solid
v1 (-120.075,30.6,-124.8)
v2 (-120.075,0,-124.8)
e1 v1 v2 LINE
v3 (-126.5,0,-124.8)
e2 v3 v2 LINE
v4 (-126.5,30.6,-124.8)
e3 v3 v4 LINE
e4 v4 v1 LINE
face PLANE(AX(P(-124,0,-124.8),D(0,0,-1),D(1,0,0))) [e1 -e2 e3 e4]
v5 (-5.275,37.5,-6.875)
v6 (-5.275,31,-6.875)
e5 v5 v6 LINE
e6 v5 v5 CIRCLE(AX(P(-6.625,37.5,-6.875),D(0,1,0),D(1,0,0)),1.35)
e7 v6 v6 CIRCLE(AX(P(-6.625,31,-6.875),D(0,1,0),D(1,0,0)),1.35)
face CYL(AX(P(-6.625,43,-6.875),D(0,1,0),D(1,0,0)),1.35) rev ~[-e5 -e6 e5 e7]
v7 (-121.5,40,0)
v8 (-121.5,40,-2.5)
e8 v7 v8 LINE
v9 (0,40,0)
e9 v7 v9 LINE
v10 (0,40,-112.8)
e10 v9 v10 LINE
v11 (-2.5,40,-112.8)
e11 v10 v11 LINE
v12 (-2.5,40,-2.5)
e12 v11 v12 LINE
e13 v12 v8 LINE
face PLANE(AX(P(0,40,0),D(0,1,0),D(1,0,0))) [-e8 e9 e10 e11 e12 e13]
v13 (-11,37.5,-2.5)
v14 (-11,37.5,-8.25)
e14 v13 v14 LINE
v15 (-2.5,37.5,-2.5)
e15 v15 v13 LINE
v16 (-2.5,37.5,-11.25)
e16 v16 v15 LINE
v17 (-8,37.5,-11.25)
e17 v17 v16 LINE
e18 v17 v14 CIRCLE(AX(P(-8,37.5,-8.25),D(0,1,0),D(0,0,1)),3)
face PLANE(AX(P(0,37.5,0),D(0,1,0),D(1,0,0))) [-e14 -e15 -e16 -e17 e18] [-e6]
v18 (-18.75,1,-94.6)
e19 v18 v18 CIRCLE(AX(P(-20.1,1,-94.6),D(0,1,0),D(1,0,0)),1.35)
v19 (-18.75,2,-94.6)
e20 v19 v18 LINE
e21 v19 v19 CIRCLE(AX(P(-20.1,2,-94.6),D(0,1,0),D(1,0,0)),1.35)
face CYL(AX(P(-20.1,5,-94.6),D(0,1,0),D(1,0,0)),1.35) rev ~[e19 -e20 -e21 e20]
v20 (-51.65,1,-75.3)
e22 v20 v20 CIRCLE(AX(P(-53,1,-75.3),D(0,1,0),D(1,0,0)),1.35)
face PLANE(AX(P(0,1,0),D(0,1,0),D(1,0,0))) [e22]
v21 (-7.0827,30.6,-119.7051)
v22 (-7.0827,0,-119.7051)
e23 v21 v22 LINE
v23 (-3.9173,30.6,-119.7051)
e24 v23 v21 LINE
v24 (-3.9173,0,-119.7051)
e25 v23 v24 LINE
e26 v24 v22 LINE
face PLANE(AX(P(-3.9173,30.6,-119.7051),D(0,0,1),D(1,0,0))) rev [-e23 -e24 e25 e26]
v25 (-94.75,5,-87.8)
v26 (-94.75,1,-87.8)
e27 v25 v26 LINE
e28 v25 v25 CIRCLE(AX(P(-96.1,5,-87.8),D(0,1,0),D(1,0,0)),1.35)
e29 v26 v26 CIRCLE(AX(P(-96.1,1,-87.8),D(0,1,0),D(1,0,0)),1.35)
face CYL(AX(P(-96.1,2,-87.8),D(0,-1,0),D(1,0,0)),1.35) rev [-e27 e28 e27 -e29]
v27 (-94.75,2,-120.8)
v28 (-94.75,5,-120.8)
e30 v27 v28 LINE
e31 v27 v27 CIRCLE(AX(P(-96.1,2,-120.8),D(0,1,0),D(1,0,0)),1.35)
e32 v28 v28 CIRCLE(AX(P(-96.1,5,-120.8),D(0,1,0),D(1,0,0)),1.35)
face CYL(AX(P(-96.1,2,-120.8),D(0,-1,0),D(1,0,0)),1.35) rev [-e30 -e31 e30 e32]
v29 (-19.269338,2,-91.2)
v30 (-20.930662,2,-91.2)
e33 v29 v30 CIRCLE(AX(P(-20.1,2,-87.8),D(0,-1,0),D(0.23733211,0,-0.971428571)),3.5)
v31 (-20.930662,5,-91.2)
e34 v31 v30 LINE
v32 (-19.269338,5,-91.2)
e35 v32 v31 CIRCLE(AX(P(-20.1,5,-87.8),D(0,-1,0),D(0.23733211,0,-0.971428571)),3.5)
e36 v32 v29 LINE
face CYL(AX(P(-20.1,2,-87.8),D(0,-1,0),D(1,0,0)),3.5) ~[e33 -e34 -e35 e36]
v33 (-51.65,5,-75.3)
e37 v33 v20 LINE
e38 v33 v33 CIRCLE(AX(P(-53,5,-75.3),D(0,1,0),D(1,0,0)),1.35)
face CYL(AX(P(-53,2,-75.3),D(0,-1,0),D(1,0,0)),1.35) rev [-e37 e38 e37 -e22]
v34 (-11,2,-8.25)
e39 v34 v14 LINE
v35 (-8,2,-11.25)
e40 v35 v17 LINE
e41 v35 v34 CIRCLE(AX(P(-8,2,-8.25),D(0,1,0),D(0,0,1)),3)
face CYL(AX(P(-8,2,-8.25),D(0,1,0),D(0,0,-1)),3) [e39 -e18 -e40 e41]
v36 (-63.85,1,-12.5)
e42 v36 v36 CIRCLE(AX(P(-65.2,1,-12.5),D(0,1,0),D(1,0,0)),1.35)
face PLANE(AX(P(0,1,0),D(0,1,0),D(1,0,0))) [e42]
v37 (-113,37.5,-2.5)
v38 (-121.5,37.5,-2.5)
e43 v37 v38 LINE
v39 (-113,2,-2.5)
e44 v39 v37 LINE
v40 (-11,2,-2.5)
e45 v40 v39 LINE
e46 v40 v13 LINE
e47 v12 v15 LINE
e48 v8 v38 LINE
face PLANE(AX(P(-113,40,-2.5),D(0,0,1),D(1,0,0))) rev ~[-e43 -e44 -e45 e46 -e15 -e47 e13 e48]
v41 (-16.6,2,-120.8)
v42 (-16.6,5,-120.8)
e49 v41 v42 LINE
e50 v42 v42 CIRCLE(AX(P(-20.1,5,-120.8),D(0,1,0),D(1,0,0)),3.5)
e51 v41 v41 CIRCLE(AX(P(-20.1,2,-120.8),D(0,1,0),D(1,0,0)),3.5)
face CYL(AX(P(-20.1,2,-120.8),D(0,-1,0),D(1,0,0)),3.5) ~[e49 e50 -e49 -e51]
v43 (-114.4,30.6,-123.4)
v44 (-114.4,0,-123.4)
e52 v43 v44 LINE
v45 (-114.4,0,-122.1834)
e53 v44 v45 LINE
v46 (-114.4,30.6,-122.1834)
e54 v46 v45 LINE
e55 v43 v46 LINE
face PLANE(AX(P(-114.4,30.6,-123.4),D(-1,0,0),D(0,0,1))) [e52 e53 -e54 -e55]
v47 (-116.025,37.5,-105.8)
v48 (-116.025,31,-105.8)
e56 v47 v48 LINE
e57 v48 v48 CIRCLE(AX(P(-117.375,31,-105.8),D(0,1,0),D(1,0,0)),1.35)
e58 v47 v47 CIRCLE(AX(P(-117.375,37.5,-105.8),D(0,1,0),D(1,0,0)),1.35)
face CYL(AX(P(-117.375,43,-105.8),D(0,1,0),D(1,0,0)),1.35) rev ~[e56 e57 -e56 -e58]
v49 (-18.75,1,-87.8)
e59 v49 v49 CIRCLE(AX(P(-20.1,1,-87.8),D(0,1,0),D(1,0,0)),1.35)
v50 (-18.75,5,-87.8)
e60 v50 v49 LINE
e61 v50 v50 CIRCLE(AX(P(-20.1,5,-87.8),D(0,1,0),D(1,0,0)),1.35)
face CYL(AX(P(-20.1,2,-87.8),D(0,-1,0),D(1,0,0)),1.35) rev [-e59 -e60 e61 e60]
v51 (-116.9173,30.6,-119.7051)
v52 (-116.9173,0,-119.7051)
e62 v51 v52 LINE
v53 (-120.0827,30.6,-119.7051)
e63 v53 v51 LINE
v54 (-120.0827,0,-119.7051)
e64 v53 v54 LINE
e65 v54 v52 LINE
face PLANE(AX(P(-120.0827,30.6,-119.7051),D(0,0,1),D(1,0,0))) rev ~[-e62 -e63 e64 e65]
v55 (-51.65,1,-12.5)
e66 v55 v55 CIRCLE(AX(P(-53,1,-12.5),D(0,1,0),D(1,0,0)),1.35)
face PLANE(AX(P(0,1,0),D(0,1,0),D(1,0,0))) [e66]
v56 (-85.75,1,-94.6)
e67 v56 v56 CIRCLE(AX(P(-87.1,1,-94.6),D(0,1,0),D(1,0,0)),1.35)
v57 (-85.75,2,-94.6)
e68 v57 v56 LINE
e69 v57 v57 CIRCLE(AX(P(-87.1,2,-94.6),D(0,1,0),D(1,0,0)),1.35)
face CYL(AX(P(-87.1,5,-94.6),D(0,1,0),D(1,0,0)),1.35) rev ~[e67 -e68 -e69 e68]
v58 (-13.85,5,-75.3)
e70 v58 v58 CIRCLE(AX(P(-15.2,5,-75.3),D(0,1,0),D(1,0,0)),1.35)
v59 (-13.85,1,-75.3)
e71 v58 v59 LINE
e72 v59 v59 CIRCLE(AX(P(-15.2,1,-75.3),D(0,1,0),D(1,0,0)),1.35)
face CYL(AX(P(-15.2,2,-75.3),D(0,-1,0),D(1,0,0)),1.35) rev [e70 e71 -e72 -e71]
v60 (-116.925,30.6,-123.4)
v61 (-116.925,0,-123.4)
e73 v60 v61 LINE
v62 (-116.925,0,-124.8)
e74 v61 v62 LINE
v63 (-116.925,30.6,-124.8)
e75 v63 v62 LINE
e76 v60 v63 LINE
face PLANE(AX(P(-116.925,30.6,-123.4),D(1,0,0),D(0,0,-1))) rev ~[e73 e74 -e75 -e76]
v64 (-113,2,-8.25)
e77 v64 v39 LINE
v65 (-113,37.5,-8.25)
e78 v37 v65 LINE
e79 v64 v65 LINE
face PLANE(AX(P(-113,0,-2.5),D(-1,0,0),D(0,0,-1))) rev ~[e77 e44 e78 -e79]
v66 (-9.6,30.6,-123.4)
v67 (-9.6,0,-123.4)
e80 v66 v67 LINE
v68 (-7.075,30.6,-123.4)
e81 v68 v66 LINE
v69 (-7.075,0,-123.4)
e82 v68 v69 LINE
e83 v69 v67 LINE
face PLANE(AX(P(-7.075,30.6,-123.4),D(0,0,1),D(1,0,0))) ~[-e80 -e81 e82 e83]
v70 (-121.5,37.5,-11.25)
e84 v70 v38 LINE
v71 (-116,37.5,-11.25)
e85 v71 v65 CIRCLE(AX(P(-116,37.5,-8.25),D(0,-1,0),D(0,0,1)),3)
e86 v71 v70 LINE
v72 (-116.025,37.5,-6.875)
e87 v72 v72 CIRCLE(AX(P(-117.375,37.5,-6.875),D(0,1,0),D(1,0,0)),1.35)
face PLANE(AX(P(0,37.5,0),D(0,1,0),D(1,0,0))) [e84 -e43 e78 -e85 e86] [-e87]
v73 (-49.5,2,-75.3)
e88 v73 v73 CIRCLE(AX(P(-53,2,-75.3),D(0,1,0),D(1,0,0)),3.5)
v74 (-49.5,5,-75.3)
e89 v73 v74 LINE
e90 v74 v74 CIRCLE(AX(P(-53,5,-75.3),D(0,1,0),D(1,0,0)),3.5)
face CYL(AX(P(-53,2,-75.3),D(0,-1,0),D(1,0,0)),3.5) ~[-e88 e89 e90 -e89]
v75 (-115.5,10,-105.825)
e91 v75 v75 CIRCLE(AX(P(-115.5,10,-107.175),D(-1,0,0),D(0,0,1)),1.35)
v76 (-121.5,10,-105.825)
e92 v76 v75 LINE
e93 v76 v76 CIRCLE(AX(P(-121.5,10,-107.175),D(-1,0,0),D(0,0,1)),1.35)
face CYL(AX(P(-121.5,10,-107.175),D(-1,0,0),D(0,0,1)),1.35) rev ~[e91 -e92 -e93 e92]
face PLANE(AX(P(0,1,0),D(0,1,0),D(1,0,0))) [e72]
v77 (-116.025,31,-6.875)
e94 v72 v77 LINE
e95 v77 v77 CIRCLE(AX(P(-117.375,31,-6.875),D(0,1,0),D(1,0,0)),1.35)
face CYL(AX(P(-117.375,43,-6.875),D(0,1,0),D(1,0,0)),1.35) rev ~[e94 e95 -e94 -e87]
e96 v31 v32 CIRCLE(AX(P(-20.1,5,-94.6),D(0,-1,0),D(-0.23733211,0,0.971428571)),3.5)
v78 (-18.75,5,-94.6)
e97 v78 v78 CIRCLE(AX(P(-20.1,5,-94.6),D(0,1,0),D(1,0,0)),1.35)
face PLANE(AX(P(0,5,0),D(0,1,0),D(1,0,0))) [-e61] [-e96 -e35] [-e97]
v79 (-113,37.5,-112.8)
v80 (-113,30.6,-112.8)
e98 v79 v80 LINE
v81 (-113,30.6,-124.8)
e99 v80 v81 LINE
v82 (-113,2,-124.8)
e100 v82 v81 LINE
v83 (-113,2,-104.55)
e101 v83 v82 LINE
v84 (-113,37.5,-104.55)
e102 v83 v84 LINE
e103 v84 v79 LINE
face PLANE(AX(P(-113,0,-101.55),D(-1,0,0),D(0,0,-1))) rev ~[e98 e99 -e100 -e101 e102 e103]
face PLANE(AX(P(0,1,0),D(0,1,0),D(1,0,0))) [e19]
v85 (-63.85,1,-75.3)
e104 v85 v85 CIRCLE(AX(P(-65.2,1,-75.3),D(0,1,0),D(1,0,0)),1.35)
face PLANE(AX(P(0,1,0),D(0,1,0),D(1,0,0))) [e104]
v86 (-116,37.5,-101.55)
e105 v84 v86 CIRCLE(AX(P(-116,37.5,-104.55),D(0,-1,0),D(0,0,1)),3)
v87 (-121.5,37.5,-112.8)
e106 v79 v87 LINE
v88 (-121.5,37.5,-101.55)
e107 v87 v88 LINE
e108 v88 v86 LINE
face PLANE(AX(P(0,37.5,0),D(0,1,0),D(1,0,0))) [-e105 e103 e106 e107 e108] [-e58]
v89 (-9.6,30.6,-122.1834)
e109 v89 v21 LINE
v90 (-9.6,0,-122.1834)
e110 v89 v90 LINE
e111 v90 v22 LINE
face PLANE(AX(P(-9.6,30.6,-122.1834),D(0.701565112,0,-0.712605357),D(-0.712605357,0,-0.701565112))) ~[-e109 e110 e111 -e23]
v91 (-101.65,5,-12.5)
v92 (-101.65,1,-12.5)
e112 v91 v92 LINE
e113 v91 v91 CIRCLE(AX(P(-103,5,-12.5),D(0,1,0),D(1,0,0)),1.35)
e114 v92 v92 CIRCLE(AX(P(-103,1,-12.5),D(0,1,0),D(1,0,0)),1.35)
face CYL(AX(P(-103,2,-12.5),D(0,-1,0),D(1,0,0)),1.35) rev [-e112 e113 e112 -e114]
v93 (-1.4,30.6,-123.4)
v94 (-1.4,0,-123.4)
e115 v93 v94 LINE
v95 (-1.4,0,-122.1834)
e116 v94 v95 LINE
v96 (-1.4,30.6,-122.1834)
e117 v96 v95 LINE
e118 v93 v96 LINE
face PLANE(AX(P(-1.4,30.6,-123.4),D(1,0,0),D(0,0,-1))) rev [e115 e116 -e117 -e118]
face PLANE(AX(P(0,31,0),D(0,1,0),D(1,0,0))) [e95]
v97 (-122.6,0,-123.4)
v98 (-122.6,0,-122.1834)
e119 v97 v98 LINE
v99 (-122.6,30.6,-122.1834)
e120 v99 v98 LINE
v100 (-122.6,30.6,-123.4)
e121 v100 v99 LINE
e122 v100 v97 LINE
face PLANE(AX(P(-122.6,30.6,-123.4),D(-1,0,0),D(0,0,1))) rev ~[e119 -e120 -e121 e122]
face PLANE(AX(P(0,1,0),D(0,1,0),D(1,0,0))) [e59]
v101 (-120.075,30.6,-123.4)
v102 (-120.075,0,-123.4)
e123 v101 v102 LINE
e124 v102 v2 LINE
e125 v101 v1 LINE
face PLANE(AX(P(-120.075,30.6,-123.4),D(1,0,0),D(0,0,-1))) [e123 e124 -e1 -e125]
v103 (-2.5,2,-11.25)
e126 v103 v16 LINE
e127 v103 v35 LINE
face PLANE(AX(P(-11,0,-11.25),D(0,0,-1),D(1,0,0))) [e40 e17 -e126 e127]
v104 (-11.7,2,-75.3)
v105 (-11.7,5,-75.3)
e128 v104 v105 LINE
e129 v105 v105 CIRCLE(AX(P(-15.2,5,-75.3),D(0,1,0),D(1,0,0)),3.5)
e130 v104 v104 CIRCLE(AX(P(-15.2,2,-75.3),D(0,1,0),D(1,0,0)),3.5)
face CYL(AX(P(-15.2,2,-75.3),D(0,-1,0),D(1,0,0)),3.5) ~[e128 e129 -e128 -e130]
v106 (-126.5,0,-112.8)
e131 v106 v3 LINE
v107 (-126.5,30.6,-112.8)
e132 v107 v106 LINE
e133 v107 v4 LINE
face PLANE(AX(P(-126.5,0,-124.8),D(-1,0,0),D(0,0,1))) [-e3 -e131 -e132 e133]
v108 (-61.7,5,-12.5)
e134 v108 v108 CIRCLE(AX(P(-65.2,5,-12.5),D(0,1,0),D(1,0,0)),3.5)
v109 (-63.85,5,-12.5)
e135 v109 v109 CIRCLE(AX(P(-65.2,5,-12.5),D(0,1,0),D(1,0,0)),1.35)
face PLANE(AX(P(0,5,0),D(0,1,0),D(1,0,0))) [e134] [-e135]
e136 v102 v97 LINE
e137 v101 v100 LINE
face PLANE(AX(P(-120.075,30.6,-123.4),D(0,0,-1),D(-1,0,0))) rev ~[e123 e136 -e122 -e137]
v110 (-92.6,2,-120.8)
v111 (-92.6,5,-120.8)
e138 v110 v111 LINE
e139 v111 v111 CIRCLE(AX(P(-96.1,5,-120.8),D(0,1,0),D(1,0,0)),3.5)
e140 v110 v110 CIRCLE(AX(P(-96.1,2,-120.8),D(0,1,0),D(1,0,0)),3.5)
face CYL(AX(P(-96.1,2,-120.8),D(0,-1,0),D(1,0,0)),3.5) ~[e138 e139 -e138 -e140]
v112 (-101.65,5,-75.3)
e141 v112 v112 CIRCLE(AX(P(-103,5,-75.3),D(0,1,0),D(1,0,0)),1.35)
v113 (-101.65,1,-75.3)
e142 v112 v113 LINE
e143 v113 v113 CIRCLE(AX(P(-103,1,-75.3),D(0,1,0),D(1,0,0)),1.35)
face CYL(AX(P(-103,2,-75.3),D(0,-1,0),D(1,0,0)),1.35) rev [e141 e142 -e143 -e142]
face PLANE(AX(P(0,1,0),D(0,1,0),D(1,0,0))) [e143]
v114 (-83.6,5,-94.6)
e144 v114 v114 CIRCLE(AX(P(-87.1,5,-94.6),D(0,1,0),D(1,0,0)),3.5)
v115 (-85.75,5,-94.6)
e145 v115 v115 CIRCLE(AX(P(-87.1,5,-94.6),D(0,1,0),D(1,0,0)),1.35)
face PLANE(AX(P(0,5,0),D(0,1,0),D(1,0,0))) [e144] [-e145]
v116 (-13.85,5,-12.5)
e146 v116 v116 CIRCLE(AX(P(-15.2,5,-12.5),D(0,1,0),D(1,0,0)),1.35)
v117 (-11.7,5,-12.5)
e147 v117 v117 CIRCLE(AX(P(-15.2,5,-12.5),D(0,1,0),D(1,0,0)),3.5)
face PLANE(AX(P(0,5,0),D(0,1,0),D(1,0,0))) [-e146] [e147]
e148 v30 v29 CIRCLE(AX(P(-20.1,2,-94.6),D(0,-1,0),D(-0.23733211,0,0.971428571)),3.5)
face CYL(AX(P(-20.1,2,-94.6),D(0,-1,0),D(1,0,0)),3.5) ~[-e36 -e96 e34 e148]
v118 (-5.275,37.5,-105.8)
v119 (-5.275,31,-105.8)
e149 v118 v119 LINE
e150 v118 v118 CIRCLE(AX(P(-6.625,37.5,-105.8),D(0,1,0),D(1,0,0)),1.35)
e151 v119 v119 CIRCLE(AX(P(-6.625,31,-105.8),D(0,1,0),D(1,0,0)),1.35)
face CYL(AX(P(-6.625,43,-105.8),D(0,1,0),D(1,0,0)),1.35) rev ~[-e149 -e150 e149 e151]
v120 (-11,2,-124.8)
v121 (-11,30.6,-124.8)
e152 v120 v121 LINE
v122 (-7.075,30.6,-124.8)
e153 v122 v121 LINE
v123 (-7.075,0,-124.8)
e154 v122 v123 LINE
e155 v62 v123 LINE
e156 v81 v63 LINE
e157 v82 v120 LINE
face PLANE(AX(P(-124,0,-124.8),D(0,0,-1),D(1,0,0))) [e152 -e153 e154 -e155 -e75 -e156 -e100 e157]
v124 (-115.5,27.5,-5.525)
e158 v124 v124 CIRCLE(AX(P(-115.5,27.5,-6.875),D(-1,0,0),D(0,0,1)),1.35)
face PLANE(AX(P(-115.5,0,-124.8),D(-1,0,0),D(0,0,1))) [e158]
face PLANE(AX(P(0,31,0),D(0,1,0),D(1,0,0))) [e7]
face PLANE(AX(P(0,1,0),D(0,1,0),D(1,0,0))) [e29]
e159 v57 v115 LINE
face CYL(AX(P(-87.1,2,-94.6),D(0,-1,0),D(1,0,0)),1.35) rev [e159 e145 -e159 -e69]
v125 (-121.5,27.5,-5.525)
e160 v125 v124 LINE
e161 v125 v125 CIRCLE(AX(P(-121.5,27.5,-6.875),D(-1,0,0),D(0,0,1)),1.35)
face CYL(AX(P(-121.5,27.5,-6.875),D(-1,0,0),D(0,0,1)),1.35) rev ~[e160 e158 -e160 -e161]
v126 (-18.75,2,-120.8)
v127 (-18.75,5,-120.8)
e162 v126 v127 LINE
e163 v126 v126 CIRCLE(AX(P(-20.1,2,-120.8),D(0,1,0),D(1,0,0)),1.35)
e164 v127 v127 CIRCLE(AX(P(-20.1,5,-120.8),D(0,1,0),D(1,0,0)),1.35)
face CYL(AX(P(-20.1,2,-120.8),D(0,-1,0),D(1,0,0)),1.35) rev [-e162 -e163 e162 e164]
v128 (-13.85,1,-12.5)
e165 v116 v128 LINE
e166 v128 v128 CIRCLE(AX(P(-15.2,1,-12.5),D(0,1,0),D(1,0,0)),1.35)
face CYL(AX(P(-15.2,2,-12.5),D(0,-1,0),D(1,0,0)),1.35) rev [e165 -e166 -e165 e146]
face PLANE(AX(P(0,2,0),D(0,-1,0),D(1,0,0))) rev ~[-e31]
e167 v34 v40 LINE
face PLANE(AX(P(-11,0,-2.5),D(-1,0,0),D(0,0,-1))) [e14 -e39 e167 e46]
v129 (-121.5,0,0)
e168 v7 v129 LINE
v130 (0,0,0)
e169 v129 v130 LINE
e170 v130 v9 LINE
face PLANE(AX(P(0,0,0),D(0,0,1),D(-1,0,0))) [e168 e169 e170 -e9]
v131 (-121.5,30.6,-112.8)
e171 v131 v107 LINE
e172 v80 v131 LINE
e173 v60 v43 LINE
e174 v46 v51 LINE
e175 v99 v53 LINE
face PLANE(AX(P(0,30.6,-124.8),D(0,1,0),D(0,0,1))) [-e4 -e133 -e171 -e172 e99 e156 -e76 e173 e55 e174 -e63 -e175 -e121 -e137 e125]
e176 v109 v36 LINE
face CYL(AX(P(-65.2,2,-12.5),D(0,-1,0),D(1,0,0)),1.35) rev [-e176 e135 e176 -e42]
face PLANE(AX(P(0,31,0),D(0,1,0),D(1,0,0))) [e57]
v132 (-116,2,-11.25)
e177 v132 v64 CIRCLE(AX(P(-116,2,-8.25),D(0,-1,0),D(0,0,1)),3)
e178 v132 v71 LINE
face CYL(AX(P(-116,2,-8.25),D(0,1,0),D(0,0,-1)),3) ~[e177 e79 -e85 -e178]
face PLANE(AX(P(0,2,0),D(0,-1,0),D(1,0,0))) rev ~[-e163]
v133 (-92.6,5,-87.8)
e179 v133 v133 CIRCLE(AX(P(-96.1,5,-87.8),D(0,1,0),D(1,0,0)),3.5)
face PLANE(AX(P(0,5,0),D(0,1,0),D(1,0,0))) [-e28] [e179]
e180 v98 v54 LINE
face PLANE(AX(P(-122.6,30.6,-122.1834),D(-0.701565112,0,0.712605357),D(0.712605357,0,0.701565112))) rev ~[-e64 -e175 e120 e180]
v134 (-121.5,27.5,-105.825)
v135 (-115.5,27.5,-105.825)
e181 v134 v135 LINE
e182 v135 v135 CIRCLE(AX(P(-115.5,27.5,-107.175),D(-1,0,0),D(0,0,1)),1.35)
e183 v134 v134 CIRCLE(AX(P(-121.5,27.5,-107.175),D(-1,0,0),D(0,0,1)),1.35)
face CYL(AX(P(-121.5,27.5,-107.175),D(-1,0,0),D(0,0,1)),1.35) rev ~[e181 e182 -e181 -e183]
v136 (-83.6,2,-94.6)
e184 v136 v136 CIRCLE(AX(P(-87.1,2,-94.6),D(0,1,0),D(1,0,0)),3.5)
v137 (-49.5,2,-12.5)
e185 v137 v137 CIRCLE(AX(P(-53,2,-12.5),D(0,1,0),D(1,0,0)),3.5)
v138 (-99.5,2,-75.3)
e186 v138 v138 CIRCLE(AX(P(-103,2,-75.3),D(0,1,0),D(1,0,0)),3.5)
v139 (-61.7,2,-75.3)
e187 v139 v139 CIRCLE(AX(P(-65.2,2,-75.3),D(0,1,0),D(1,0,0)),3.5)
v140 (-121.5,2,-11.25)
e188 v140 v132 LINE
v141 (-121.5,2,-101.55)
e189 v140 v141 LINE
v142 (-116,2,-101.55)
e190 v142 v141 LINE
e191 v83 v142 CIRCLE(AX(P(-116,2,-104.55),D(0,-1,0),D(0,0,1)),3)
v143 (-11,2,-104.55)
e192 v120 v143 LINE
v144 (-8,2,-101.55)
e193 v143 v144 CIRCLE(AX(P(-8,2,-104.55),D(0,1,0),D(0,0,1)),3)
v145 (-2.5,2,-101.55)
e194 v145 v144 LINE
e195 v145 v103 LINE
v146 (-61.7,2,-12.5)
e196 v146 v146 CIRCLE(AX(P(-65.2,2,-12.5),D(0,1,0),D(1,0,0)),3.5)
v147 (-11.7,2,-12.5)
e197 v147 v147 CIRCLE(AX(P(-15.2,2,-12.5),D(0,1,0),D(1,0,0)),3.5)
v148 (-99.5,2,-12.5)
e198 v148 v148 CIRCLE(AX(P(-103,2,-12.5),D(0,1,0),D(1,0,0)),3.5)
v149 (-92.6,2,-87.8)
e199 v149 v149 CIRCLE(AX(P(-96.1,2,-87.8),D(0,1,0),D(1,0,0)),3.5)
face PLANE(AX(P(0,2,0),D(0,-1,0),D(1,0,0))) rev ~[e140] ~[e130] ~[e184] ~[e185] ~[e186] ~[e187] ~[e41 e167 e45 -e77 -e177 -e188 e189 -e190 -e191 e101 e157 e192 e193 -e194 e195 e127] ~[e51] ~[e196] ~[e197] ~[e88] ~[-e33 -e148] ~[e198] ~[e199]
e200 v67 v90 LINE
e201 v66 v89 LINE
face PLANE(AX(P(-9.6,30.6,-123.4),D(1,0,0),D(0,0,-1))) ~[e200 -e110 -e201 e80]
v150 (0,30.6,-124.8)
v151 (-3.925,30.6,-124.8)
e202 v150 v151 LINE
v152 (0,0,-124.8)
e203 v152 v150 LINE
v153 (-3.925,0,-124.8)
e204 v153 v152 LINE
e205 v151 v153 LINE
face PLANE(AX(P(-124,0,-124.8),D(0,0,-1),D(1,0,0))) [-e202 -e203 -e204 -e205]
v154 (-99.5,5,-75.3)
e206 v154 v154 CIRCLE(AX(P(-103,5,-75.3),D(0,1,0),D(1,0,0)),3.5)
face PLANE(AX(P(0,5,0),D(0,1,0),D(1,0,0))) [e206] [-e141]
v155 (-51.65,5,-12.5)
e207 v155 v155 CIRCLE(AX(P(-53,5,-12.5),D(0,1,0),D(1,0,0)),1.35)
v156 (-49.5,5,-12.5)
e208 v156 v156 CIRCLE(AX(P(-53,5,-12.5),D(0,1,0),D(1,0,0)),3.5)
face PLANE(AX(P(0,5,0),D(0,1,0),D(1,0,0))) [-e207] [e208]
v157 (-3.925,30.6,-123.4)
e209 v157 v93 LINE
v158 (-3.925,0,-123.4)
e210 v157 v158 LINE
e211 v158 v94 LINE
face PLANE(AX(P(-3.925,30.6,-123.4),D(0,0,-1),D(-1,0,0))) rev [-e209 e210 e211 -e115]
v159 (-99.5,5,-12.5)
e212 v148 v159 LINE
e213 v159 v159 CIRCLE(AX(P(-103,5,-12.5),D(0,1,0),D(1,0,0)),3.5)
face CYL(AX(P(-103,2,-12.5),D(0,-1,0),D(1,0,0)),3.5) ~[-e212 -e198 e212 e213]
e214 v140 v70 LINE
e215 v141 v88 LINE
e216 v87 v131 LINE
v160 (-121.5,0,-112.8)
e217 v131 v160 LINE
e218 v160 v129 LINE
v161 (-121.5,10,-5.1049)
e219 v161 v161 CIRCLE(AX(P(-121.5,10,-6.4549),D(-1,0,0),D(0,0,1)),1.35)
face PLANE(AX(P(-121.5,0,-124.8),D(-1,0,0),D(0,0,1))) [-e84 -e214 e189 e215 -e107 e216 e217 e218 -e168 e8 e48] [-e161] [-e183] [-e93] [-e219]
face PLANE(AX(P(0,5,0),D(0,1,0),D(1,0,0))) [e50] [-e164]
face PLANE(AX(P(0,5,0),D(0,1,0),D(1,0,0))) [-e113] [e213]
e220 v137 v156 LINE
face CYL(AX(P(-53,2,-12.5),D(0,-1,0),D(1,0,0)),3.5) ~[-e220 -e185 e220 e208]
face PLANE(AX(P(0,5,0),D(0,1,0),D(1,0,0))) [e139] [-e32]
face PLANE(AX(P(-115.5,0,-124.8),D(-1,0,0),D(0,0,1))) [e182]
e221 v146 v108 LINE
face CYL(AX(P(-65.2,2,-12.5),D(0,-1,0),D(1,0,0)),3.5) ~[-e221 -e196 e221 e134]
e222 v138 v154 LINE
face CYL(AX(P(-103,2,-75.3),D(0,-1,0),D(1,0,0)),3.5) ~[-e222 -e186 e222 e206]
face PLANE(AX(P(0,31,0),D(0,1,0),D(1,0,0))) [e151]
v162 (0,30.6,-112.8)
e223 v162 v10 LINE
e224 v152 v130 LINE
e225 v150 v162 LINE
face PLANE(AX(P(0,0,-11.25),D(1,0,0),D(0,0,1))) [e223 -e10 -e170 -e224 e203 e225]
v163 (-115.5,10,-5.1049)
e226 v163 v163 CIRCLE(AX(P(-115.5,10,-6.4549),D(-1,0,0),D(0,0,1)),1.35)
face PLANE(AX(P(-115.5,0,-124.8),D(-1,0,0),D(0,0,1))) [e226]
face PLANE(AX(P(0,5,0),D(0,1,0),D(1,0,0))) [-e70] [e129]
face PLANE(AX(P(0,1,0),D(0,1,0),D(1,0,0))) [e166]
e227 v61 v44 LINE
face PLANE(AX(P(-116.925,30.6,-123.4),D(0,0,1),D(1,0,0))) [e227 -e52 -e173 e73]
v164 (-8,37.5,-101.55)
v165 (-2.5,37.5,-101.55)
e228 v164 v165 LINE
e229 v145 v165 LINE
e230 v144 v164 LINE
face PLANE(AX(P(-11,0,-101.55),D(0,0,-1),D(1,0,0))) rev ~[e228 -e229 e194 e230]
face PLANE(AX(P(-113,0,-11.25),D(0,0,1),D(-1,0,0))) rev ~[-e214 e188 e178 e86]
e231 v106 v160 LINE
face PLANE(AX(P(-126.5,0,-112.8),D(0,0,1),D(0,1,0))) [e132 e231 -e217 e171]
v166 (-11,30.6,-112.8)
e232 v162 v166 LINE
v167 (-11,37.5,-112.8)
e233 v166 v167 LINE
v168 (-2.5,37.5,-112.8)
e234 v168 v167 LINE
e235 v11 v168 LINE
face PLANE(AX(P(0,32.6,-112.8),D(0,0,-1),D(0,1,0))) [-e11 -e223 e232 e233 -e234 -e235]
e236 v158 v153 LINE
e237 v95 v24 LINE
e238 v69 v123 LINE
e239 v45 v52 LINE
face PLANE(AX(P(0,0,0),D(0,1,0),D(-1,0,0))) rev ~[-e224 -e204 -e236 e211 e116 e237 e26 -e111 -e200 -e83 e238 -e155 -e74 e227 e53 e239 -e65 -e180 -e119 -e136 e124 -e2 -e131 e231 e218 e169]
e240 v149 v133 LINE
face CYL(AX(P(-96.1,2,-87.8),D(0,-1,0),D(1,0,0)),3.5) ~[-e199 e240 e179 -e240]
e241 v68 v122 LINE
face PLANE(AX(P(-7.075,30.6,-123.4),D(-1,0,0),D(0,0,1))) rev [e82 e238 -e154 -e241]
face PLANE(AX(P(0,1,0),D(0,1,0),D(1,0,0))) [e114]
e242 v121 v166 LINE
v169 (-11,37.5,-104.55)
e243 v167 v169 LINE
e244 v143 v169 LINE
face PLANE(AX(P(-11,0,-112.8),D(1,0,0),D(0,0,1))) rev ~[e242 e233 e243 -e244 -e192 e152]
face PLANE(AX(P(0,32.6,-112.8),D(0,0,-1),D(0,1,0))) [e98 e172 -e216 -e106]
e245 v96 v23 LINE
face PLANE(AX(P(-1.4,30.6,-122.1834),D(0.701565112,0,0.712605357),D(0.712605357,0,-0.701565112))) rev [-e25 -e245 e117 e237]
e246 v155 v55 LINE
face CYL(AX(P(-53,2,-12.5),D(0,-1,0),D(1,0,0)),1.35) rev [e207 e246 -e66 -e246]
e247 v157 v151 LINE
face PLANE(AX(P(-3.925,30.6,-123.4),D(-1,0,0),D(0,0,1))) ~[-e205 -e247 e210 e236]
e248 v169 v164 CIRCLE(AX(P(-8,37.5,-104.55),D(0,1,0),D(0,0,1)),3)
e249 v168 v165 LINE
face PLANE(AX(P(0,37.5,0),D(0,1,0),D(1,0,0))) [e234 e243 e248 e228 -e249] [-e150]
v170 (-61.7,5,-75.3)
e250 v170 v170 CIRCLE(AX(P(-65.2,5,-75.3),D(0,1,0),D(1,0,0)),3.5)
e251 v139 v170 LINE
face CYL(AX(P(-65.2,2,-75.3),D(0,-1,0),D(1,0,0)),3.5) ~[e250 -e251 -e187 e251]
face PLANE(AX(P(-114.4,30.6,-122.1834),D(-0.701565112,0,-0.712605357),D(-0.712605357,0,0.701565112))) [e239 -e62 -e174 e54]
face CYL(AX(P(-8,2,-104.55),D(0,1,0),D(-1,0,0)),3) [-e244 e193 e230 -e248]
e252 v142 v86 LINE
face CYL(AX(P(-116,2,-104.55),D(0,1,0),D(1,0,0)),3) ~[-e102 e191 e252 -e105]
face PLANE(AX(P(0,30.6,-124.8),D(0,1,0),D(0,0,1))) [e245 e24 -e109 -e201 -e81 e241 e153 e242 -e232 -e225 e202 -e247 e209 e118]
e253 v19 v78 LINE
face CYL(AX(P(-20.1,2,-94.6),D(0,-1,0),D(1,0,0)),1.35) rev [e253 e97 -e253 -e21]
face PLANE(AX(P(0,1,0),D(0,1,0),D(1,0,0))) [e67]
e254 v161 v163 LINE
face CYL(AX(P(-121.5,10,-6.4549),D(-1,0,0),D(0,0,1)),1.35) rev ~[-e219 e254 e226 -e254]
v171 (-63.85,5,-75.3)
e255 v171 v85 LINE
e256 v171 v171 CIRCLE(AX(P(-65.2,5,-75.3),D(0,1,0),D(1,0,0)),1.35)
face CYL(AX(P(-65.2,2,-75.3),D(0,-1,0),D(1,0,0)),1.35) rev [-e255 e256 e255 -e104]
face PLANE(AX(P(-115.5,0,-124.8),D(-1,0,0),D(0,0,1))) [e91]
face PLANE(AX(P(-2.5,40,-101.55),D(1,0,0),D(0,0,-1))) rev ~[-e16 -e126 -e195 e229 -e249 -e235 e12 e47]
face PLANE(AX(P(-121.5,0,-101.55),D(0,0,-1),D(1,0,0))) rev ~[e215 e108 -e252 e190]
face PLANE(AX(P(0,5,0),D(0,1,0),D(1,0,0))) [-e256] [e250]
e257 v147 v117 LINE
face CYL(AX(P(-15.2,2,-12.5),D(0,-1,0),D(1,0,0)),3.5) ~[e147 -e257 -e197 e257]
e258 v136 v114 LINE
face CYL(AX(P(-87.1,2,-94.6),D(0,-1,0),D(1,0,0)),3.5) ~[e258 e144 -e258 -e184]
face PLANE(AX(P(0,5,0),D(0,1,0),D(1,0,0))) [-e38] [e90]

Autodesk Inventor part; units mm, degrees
ref_plane "YZ Plane" through (0, 0, 0) normal (1, 0, 0) x (0, 1, 0)
ref_plane "XZ Plane" through (0, 0, 0) normal (0, 1, 0) x (-1, 0, 0)
sketch "Sketch1" plane through (0, 0, 0) normal (0, 1, 0) x (-1, 0, 0)
  line L0 (0, 0) -> (124, 0)
  line L1 (124, 0) -> (124, -124.8)
  line L2 (0, -124.8) -> (0, 0)
  line L3 (113, -2.5) -> (11, -2.5)
  line L4 (124, 0) -> (113, 0)
  line L5 (113, -2.5) -> (113, -11.25)
  line L6 (113, -11.25) -> (121.5, -11.25)
  line L7 (124, -11.25) -> (124, 0)
  line L8 (0, 0) -> (11, 0)
  line L9 (11, -2.5) -> (11, -11.25)
  line L10 (11, -11.25) -> (2.5, -11.25)
  line L11 (0, -11.25) -> (0, 0)
  line L12 (113, -112.8) -> (121.5, -112.8)
  line L13 (124, -112.8) -> (124, -124.8)
  line L14 (11, -112.8) -> (2.5, -112.8)
  line L15 (0, -112.8) -> (0, -124.8)
  line L16 (2.5, -112.8) -> (11, -112.8)
  line L17 (11, -112.8) -> (11, -101.55)
  line L18 (11, -101.55) -> (2.5, -101.55)
  line L19 (0, -101.55) -> (0, -112.8)
  line L20 (113, -112.8) -> (121.5, -112.8)
  line L21 (124, -112.8) -> (124, -101.55)
  line L22 (121.5, -101.55) -> (113, -101.55)
  line L23 (113, -101.55) -> (113, -112.8)
  line L24 (2.5, -11.25) -> (2.5, -101.55)
  line L25 (2.5, -112.8) -> (2.5, -122.3)
  line L26 (121.5, -122.3) -> (121.5, -112.8)
  line L27 (121.5, -101.55) -> (121.5, -11.25)
  line L28 (121.5, -122.3) -> (121.5, -124.8)
  line L29 (2.5, -122.3) -> (2.5, -124.8)
  line L30 (124, -124.8) -> (121.5, -124.8)
  line L31 (2.5, -124.8) -> (0, -124.8)
  dimension "d1" = 124.8
  dimension "d3" = 2.5
  dimension "d6" = 11
  dimension "d7" = 11.25
  dimension "d8" = 11
  dimension "d9" = 11.25
  dimension "d10" = 11
  dimension "d12" = 11
  dimension "d14" = 11
  dimension "d15" = 11.25
  dimension "d16" = 11.25
extrude "Extrusion1" add sketch "Sketch1" along normal blind 43
sketch "Sketch2" plane through (0, 0, 0) normal (0, -1, 0) x (1, 0, 0)
  line L0 (0, 0) -> (0, -124.8) projected
  line L1 (-124, 0) -> (0, 0) projected
  line L2 (-124, -124.8) -> (-124, 0) projected
  line L3 (-121.5, -124.8) -> (-124, -124.8) projected
  line L4 (-121.5, -112.8) -> (-121.5, -124.8) projected
  line L5 (-113, -112.8) -> (-121.5, -112.8) projected
  line L6 (-113, -101.55) -> (-113, -112.8) projected
  line L7 (-121.5, -101.55) -> (-113, -101.55) projected
  line L8 (-121.5, -11.25) -> (-121.5, -101.55) projected
  line L9 (-113, -11.25) -> (-121.5, -11.25) projected
  line L10 (-113, -2.5) -> (-113, -11.25) projected
  line L11 (-11, -2.5) -> (-113, -2.5) projected
  line L12 (-11, -11.25) -> (-11, -2.5) projected
  line L13 (-2.5, -11.25) -> (-11, -11.25) projected
  line L14 (-2.5, -101.55) -> (-2.5, -11.25) projected
  line L15 (-11, -101.55) -> (-2.5, -101.55) projected
  line L16 (-11, -112.8) -> (-11, -101.55) projected
  line L17 (-2.5, -112.8) -> (-11, -112.8) projected
  line L18 (-2.5, -124.8) -> (-2.5, -112.8) projected
  line L19 (0, -124.8) -> (-2.5, -124.8) projected
  line L20 (-124, -124.8) -> (0, -124.8)
  line L21 (0, -124.8) -> (0, 0)
  line L22 (0, 0) -> (-124, 0)
  line L23 (-124, 0) -> (-124, -124.8)
extrude "Extrusion2" add sketch "Sketch2" against normal blind 2
sketch "Sketch3" plane through (0, 2, 0) normal (0, 1, 0) x (1, 0, 0)
  line L0 (-121.5, 112.8) -> (-121.5, 124.8) projected
  line L1 (-113, 112.8) -> (-121.5, 112.8) projected
  line L2 (-113, 101.55) -> (-113, 112.8) projected
  line L3 (-121.5, 101.55) -> (-113, 101.55) projected
  line L4 (-121.5, 11.25) -> (-121.5, 101.55) projected
  line L5 (-113, 11.25) -> (-121.5, 11.25) projected
  line L6 (-113, 2.5) -> (-113, 11.25) projected
  line L7 (-11, 2.5) -> (-113, 2.5) projected
  line L8 (-11, 11.25) -> (-11, 2.5) projected
  line L9 (-2.5, 11.25) -> (-11, 11.25) projected
  line L10 (-2.5, 101.55) -> (-2.5, 11.25) projected
  line L11 (-11, 101.55) -> (-2.5, 101.55) projected
  line L12 (-11, 112.8) -> (-11, 101.55) projected
  line L13 (-2.5, 112.8) -> (-11, 112.8) projected
  line L14 (-2.5, 124.8) -> (-2.5, 112.8) projected
  line L15 (-2.5, 124.8) -> (-121.5, 124.8) projected
  line L16 (-11, 112.8) -> (-2.5, 112.8)
  line L17 (-2.5, 112.8) -> (-2.5, 124.8)
  line L18 (-2.5, 124.8) -> (-11, 124.8)
  line L19 (-11, 124.8) -> (-11, 112.8)
  line L20 (-113, 112.8) -> (-121.5, 112.8)
  line L21 (-121.5, 112.8) -> (-121.5, 124.8)
  line L22 (-121.5, 124.8) -> (-113, 124.8)
  line L23 (-113, 124.8) -> (-113, 112.8)
  point P0 (0, 0)
extrude "Extrusion3" add sketch "Sketch3" along normal blind 30.6 contours L0 L15 L23 L1 | L15 L14 L13 L19
sketch "Sketch4" plane through (0, 0, -124.8) normal (1, 0, 0) x (0, 0, -1)
  line L0 (0, 32.6) -> (-12, 32.6) projected
  line L1 (-12, 32.6) -> (-12, 43) projected
  line L2 (-124.8, 43) -> (0, 43) projected
  line L3 (0, 0) -> (0, 43) projected
  point P0 (-124.8, 0)
extrude "Extrusion4" cut sketch "Sketch4" against normal through all
sketch "Sketch5" plane through (0, 43, 0) normal (0, 1, 0) x (1, 0, 0)
  line L0 (-113, 112.8) -> (-124, 112.8) projected
  line L1 (-124, 112.8) -> (-124, 0) projected
  line L2 (-124, 0) -> (0, 0) projected
  line L3 (0, 0) -> (0, 112.8) projected
  line L4 (0, 112.8) -> (-11, 112.8) projected
  line L5 (-11, 112.8) -> (-11, 101.55) projected
  line L6 (-11, 101.55) -> (-2.5, 101.55) projected
  line L7 (-2.5, 101.55) -> (-2.5, 11.25) projected
  line L8 (-2.5, 11.25) -> (-11, 11.25) projected
  line L9 (-11, 11.25) -> (-11, 2.5) projected
  line L10 (-11, 2.5) -> (-113, 2.5) projected
  line L11 (-113, 2.5) -> (-113, 11.25) projected
  line L12 (-113, 11.25) -> (-121.5, 11.25) projected
  line L13 (-121.5, 11.25) -> (-121.5, 101.55) projected
  line L14 (-121.5, 101.55) -> (-113, 101.55) projected
  line L15 (-113, 101.55) -> (-113, 112.8) projected
  circle A0 centre (-6.625, 6.875) radius 1.35
  circle A1 centre (-6.625, 105.8) radius 1.35
  line L16 (-62, 2.5) -> (-62, 12.6966)
  line L17 (0, 0) -> (-124, 0)
  line L18 (-124, 0) -> (-124, 112.8)
  line L19 (-124, 112.8) -> (-113, 112.8)
  line L20 (-113, 112.8) -> (-113, 101.55)
  line L21 (-113, 101.55) -> (-121.5, 101.55)
  line L22 (-121.5, 101.55) -> (-121.5, 11.25)
  line L23 (-121.5, 11.25) -> (-113, 11.25)
  line L24 (-113, 11.25) -> (-113, 2.5)
  line L25 (-113, 2.5) -> (-11, 2.5)
  circle A2 centre (-117.375, 6.875) radius 1.35
  circle A3 centre (-117.375, 105.8) radius 1.35
  dimension "d25" = 2.7
  dimension "d26" = 4.375
  dimension "d27" = 4.375
  dimension "d28" = 2.7
  dimension "d29" = 4.25
  dimension "d30" = 4.375
extrude "Extrusion5" cut sketch "Sketch5" against normal blind 12 contours A0 | A1 | A2 | A3
sketch "Sketch6" plane through (0, 0, 0) normal (1, 0, 0) x (0, 0, -1)
  line L0 (0, 43) -> (112.8, 43) projected
  line L1 (0, 0) -> (0, 43) projected
  line L2 (0, 0) -> (124.8, 0) projected
  line L3 (124.8, 0) -> (124.8, 32.6) projected
  line L4 (112.8, 32.6) -> (112.8, 43) projected
  line L5 (124.8, 0) -> (124.8, 32.6) projected
  line L6 (112.8, 32.6) -> (124.8, 32.6)
  line L7 (124.8, 32.6) -> (124.8, 30.6)
  line L8 (124.8, 30.6) -> (112.8, 30.6)
  line L9 (112.8, 30.6) -> (112.8, 32.6)
  line L10 (124.8, 32.6) -> (112.8, 32.6) projected
  line L11 (112.8, 32.6) -> (112.8, 43) projected
  dimension "d33" = 30.6
extrude "Extrusion6" cut sketch "Sketch6" against normal through all contours L6 L3 L8 L9
sketch "Sketch7" plane through (0, 43, 0) normal (0, 1, 0) x (1, 0, 0)
  circle A0 centre (-6.625, 6.875) radius 1.35 projected
  circle A1 centre (-117.375, 105.8) radius 1.35 projected
  circle A2 centre (-6.625, 6.875) radius 1.35 projected
  circle A3 centre (-6.625, 105.8) radius 1.35 projected
  circle A4 centre (-117.375, 6.875) radius 1.35 projected
  line L0 (-113, 112.8) -> (-124, 112.8) projected
  line L1 (-124, 112.8) -> (-124, 0) projected
  line L2 (-124, 0) -> (0, 0) projected
  line L3 (0, 0) -> (0, 112.8) projected
  line L4 (0, 112.8) -> (-11, 112.8) projected
  line L5 (-11, 112.8) -> (-11, 101.55) projected
  line L6 (-11, 101.55) -> (-2.5, 101.55) projected
  line L7 (-2.5, 101.55) -> (-2.5, 11.25) projected
  line L8 (-2.5, 11.25) -> (-11, 11.25) projected
  line L9 (-11, 11.25) -> (-11, 2.5) projected
  line L10 (-11, 2.5) -> (-113, 2.5) projected
  line L11 (-113, 2.5) -> (-113, 11.25) projected
  line L12 (-113, 11.25) -> (-121.5, 11.25) projected
  line L13 (-121.5, 11.25) -> (-121.5, 101.55) projected
  line L14 (-121.5, 101.55) -> (-113, 101.55) projected
  line L15 (-113, 101.55) -> (-113, 112.8) projected
extrude "Extrusion7" cut sketch "Sketch7" against normal blind 3
sketch "Sketch8" plane through (0, 30.6, -112.8) normal (0, 1, 0) x (1, 0, 0)
  line L0 (-113, 12) -> (-113, 0) projected
  line L1 (-124, 12) -> (-113, 12) projected
  line L2 (-124, 0) -> (-124, 12) projected
  line L3 (-113, 0) -> (-124, 0) projected
  line L4 (-11, 0) -> (-11, 12) projected
  line L5 (0, 0) -> (-11, 0) projected
  line L6 (0, 12) -> (0, 0) projected
  line L7 (-11, 12) -> (0, 12) projected
  line L8 (-122.6, 10.6) -> (-122.6, 9.3834)
  line L9 (-120.075, 10.6) -> (-122.6, 10.6)
  line L10 (-122.6, 9.3834) -> (-120.0827, 6.9051)
  line L11 (-114.4, 10.6) -> (-114.4, 9.3834)
  line L12 (-116.925, 10.6) -> (-114.4, 10.6)
  line L13 (-114.4, 9.3834) -> (-116.9173, 6.9051)
  line L14 (-120, 12) -> (-117, 12)
  line L15 (-120.0827, 6.9051) -> (-116.9173, 6.9051)
  line L16 (-120.075, 10.6) -> (-120.075, 12)
  line L17 (-116.925, 10.6) -> (-116.925, 12)
  line L18 (-120.075, 12) -> (-120, 12)
  line L19 (0, 12) -> (-124, 12) projected
  line L20 (-117, 12) -> (-116.925, 12)
  point P0 (0, -112.8)
  point P1 (-114.4, 9.9917)
extrude "Extrusion8" cut sketch "Sketch8" against normal through all contours L17 L12 L11 L13 L15 L10 L8 L9 L16 L1
ref_plane "Work Plane1" through (-62, 2, -101.55) normal (1, 0, 0) x (0, 0, -1)
mirror "Mirror1" about plane through (-62, 2, -101.55) normal (1, 0, 0) of "Extrusion8"
sketch "Sketch9" plane through (-124, 0, -124.8) normal (-1, 0, 0) x (0, 0, 1)
  line L0 (124.8, 40) -> (12, 40) projected
  line L1 (12, 40) -> (12, 30.6) projected
  line L2 (12, 30.6) -> (0, 30.6) projected
  line L3 (0, 0) -> (0, 30.6) projected
  line L4 (0, 0) -> (124.8, 0) projected
  line L5 (124.8, 0) -> (124.8, 40) projected
  line L6 (124.8, 40) -> (164.8, 40)
  line L7 (164.8, 40) -> (164.8, 0)
  line L8 (164.8, 0) -> (124.8, 0)
  line L9 (124.8, 0) -> (124.8, 40)
  circle A0 centre (134.8, 30) radius 2.6
  circle A1 centre (154.8, 30) radius 2.6
  circle A2 centre (154.8, 10) radius 2.6
  circle A3 centre (134.8, 10) radius 2.6
  dimension "d61" = 40
  dimension "d62" = 5.2
  dimension "d63" = 5.2
  dimension "d64" = 5.2
  dimension "d65" = 5.2
  dimension "d66" = 20
  dimension "d67" = 20
  dimension "d68" = 20
  dimension "d69" = 10
  dimension "d141" = 10
  dimension "d142" = 10
  dimension "d143" = 10
extrude "Extrusion9" add sketch "Sketch9" along normal blind 2.5
sketch "Sketch10" plane through (0, 2, 0) normal (0, 1, 0) x (1, 0, 0)
  line L0 (-113, 124.8) -> (-113, 101.55) projected
  line L1 (-121.5, 101.55) -> (-113, 101.55) projected
  line L2 (-121.5, 11.25) -> (-121.5, 101.55) projected
  line L3 (-113, 11.25) -> (-121.5, 11.25) projected
  line L4 (-113, 2.5) -> (-113, 11.25) projected
  line L5 (-11, 2.5) -> (-113, 2.5) projected
  line L6 (-11, 11.25) -> (-11, 2.5) projected
  line L7 (-2.5, 11.25) -> (-11, 11.25) projected
  line L8 (-2.5, 101.55) -> (-2.5, 11.25) projected
  line L9 (-11, 101.55) -> (-2.5, 101.55) projected
  line L10 (-11, 124.8) -> (-11, 101.55) projected
  line L11 (-11, 124.8) -> (-113, 124.8) projected
  circle A0 centre (-20.1, 87.8) radius 3.5
  circle A1 centre (-96.1, 87.8) radius 3.5
  line L12 (0, 112.8) -> (0, 0) projected
  circle A2 centre (-20.1, 87.8) radius 1.35
  circle A3 centre (-96.1, 87.8) radius 1.35
  dimension "d72" = 7
  dimension "d73" = 7
  dimension "d74" = 76
  dimension "d76" = 37
  dimension "d77" = 20.1
  dimension "d78" = 2.7
  dimension "d79" = 2.7
extrude "Extrusion10" add sketch "Sketch10" along normal blind 3 contours A0 | A1
sketch "Sketch11" plane through (0, 2, 0) normal (0, 1, 0) x (1, 0, 0)
  circle A0 centre (-20.1, 87.8) radius 1.35 projected
  circle A1 centre (-96.1, 87.8) radius 1.35 projected
  point P0 (0, 0)
extrude "Extrusion11" cut sketch "Sketch11" against normal blind 1
sketch "Sketch12" plane through (0, 2, 0) normal (0, 1, 0) x (1, 0, 0)
  circle A0 centre (-20.1, 87.8) radius 3.5 projected
  circle A1 centre (-96.1, 87.8) radius 3.5 projected
  line L0 (-113, 124.8) -> (-113, 101.55) projected
  line L1 (-121.5, 101.55) -> (-113, 101.55) projected
  line L2 (-121.5, 11.25) -> (-121.5, 101.55) projected
  line L3 (-113, 11.25) -> (-121.5, 11.25) projected
  line L4 (-113, 2.5) -> (-113, 11.25) projected
  line L5 (-11, 2.5) -> (-113, 2.5) projected
  line L6 (-11, 11.25) -> (-11, 2.5) projected
  line L7 (-2.5, 11.25) -> (-11, 11.25) projected
  line L8 (-2.5, 101.55) -> (-2.5, 11.25) projected
  line L9 (-11, 101.55) -> (-2.5, 101.55) projected
  line L10 (-11, 124.8) -> (-11, 101.55) projected
  line L11 (-11, 124.8) -> (-113, 124.8) projected
  circle A2 centre (-103, 12.5) radius 3.5
  circle A3 centre (-103, 75.3) radius 3.5
  circle A4 centre (-65.2, 12.5) radius 3.5
  circle A5 centre (-65.2, 75.3) radius 3.5
  circle A6 centre (-103, 12.5) radius 1.35
  circle A7 centre (-103, 75.3) radius 1.35
  circle A8 centre (-65.2, 75.3) radius 1.35
  circle A9 centre (-65.2, 12.5) radius 1.35
  line L12 (-59.1, 6.875) -> (-59.1, 19.1596)
  circle A10 centre (-15.2, 12.5) radius 3.5
  circle A11 centre (-15.2, 75.3) radius 3.5
  circle A12 centre (-53, 12.5) radius 3.5
  circle A13 centre (-53, 75.3) radius 3.5
  circle A14 centre (-15.2, 12.5) radius 1.35
  circle A15 centre (-15.2, 75.3) radius 1.35
  circle A16 centre (-53, 75.3) radius 1.35
  circle A17 centre (-53, 12.5) radius 1.35
  point P0 (0, 0)
  dimension "d84" = 7
  dimension "d85" = 7
  dimension "d86" = 7
  dimension "d87" = 7
  dimension "d88" = 62.8
  dimension "d89" = 62.8
  dimension "d90" = 37.8
  dimension "d91" = 10
  dimension "d92" = 10
  dimension "d93" = 2.7
  dimension "d94" = 2.7
  dimension "d95" = 2.7
  dimension "d96" = 2.7
  dimension "d97" = 6.1
extrude "Extrusion12" add sketch "Sketch12" along normal blind 3 contours A2 | A3 | A4 | A5 | A10 | A11 | A12 | A13
sketch "Sketch13" plane through (0, 2, 0) normal (0, 1, 0) x (1, 0, 0)
  circle A0 centre (-103, 12.5) radius 1.35 projected
  circle A1 centre (-103, 75.3) radius 1.35 projected
  circle A2 centre (-65.2, 75.3) radius 1.35 projected
  circle A3 centre (-65.2, 12.5) radius 1.35 projected
  circle A4 centre (-53, 12.5) radius 1.35 projected
  circle A5 centre (-53, 75.3) radius 1.35 projected
  circle A6 centre (-15.2, 75.3) radius 1.35 projected
  circle A7 centre (-15.2, 12.5) radius 1.35 projected
  point P0 (0, 0)
extrude "Extrusion13" cut sketch "Sketch13" against normal blind 1
sketch "Sketch15" plane through (0, 40, 0) normal (0, 1, 0) x (1, 0, 0)
  circle A0 centre (-117.375, 6.875) radius 1.35 projected
  circle A1 centre (-6.625, 105.8) radius 1.35 projected
  circle A2 centre (-117.375, 105.8) radius 1.35 projected
  circle A3 centre (-6.625, 6.875) radius 1.35 projected
  line L0 (-126.5, 112.8) -> (-113, 112.8) projected
  line L1 (-126.5, -40) -> (-126.5, 112.8) projected
  line L2 (-124, -40) -> (-126.5, -40) projected
  line L3 (-124, -40) -> (-124, 0) projected
  line L4 (0, 0) -> (-124, 0) projected
  line L5 (0, 112.8) -> (0, 0) projected
  line L6 (-11, 112.8) -> (0, 112.8) projected
  line L7 (-11, 101.55) -> (-11, 112.8) projected
  line L8 (-2.5, 101.55) -> (-11, 101.55) projected
  line L9 (-2.5, 11.25) -> (-2.5, 101.55) projected
  line L10 (-11, 11.25) -> (-2.5, 11.25) projected
  line L11 (-11, 2.5) -> (-11, 11.25) projected
  line L12 (-113, 2.5) -> (-11, 2.5) projected
  line L13 (-113, 11.25) -> (-113, 2.5) projected
  line L14 (-121.5, 11.25) -> (-113, 11.25) projected
  line L15 (-121.5, 101.55) -> (-121.5, 11.25) projected
  line L16 (-113, 101.55) -> (-121.5, 101.55) projected
  line L17 (-113, 112.8) -> (-113, 101.55) projected
  line L18 (-121.5, 2.5) -> (-2.5, 2.5)
  line L19 (-2.5, 2.5) -> (-2.5, 112.8)
  line L20 (-2.5, 112.8) -> (-121.5, 112.8)
  line L21 (-121.5, 112.8) -> (-121.5, 2.5)
extrude "Extrusion15" cut sketch "Sketch15" against normal blind 2.5 contours L0 L17 L16 L21 | L20 L7 L8 L9 L10 L11 L12 L13 L14 L15 L16 L17 | L6 L19 L8 L7 | L14 L13 L18 L21 | L19 L18 L11 L10
fillet "Fillet2" radius 3 4 edges at (-11, 19.75, -101.55) (-11, 19.75, -11.25) (-113, 19.75, -101.55) (-113, 19.75, -11.25)
sketch "Sketch16" plane through (0, 2, 0) normal (0, 1, 0) x (1, 0, 0)
  line L0 (-11, 124.8) -> (-113, 124.8) projected
  arc A0 (-8, 11.25) -> (-11, 8.25) centre (-8, 8.25) ccw projected
  line L1 (-2.5, 11.25) -> (-8, 11.25) projected
  line L2 (-2.5, 101.55) -> (-2.5, 11.25) projected
  line L3 (-8, 101.55) -> (-2.5, 101.55) projected
  arc A1 (-11, 104.55) -> (-8, 101.55) centre (-8, 104.55) ccw projected
  line L4 (-11, 124.8) -> (-11, 104.55) projected
  line L5 (-11, 124.8) -> (-113, 124.8) projected
  line L6 (-113, 124.8) -> (-113, 104.55) projected
  arc A2 (-116, 101.55) -> (-113, 104.55) centre (-116, 104.55) ccw projected
  line L7 (-121.5, 101.55) -> (-116, 101.55) projected
  line L8 (-121.5, 11.25) -> (-121.5, 101.55) projected
  line L9 (-116, 11.25) -> (-121.5, 11.25) projected
  arc A3 (-113, 8.25) -> (-116, 11.25) centre (-116, 8.25) ccw projected
  line L10 (-113, 2.5) -> (-113, 8.25) projected
  line L11 (-11, 2.5) -> (-113, 2.5) projected
  line L12 (-11, 8.25) -> (-11, 2.5) projected
  circle A4 centre (-20.1, 120.8) radius 3.5
  circle A5 centre (-96.1, 120.8) radius 3.5
  circle A6 centre (-20.1, 120.8) radius 1.35
  circle A7 centre (-96.1, 120.8) radius 1.35
  point P0 (0, 0)
  dimension "d132" = 7
  dimension "d133" = 7
  dimension "d134" = 76
  dimension "d136" = 2.7
  dimension "d137" = 2.7
extrude "Extrusion16" add sketch "Sketch16" along normal blind 3 contours A4 | A5
sketch "Sketch19" plane through (-126.5, 0, -124.8) normal (-1, 0, 0) x (0, 0, 1)
  circle A0 centre (134.8, 10) radius 2.6 projected
  circle A1 centre (154.8, 10) radius 2.6 projected
  circle A2 centre (154.8, 30) radius 2.6 projected
  circle A3 centre (134.8, 30) radius 2.6 projected
  line L0 (0, 0) -> (164.8, 0) projected
  line L1 (164.8, 0) -> (164.8, 40) projected
  line L2 (164.8, 40) -> (12, 40) projected
  line L3 (12, 40) -> (12, 30.6) projected
  line L4 (12, 30.6) -> (0, 30.6) projected
  line L5 (0, 30.6) -> (0, 0) projected
  line L6 (164.8, 40) -> (12, 40) projected
  line L7 (12, 40) -> (164.8, 40)
  line L8 (164.8, 40) -> (164.8, 0)
  line L9 (164.8, 0) -> (12, 0)
  line L10 (12, 0) -> (12, 40)
  point P0 (124.8, 0)
  dimension "d156" = 152.8
  dimension "d157" = 40
extrude "Extrusion18" cut sketch "Sketch19" against normal blind 5 contours A0 | A1 | A2 | A3 | L10 L3 L2 L1 L0
sketch "Sketch20" plane through (-121.5, 0, -124.8) normal (-1, 0, 0) x (0, 0, 1)
  line L0 (23.25, 37.5) -> (12, 37.5) projected
  line L1 (12, 30.6) -> (12, 37.5) projected
  line L2 (12, 0) -> (12, 30.6) projected
  line L3 (124.8, 0) -> (12, 0) projected
  line L4 (124.8, 40) -> (124.8, 0) projected
  line L5 (122.3, 40) -> (124.8, 40) projected
  line L6 (122.3, 40) -> (122.3, 37.5) projected
  line L7 (122.3, 37.5) -> (113.55, 37.5) projected
  line L8 (113.55, 2) -> (113.55, 37.5) projected
  line L9 (113.55, 2) -> (23.25, 2) projected
  line L10 (23.25, 2) -> (23.25, 37.5) projected
  circle A0 centre (17.625, 27.5) radius 1.35
  circle A1 centre (17.625, 10) radius 1.35
  circle A2 centre (117.925, 27.5) radius 1.35
  circle A3 centre (118.3451, 10) radius 1.35
  dimension "d160" = 2.7
  dimension "d161" = 2.7
  dimension "d162" = 10
  dimension "d163" = 10
  dimension "d164" = 2.7
  dimension "d165" = 2.7
  dimension "d168" = 5.625
extrude "Extrusion19" cut sketch "Sketch20" against normal blind 6 contours A0 | A1 | A2 | A3
sketch "Sketch21" plane through (0, 2, 0) normal (0, 1, 0) x (1, 0, 0)
  line L0 (-11, 124.8) -> (-113, 124.8) projected
  line L1 (-113, 124.8) -> (-113, 104.55) projected
  arc A0 (-116, 101.55) -> (-113, 104.55) centre (-116, 104.55) ccw projected
  line L2 (-121.5, 101.55) -> (-116, 101.55) projected
  line L3 (-121.5, 11.25) -> (-121.5, 101.55) projected
  line L4 (-116, 11.25) -> (-121.5, 11.25) projected
  arc A1 (-113, 8.25) -> (-116, 11.25) centre (-116, 8.25) ccw projected
  line L5 (-113, 2.5) -> (-113, 8.25) projected
  line L6 (-11, 2.5) -> (-113, 2.5) projected
  line L7 (-11, 8.25) -> (-11, 2.5) projected
  arc A2 (-8, 11.25) -> (-11, 8.25) centre (-8, 8.25) ccw projected
  line L8 (-2.5, 11.25) -> (-8, 11.25) projected
  line L9 (-2.5, 101.55) -> (-2.5, 11.25) projected
  line L10 (-8, 101.55) -> (-2.5, 101.55) projected
  arc A3 (-11, 104.55) -> (-8, 101.55) centre (-8, 104.55) ccw projected
  line L11 (-11, 124.8) -> (-11, 104.55) projected
  circle A4 centre (-20.1, 94.6) radius 3.5
  circle A5 centre (-87.1, 94.6) radius 3.5
  circle A6 centre (-20.1, 120.8) radius 3.5 projected
  circle A7 centre (-20.1, 94.6) radius 1.35
  circle A8 centre (-87.1, 94.6) radius 1.35
  point P0 (0, 0)
  dimension "d170" = 7
  dimension "d172" = 67
  dimension "d175" = 0
  dimension "d176" = 2.7
  dimension "d177" = 2.7
  dimension "d180" = 7
extrude "Extrusion20" add sketch "Sketch21" along normal blind 3 contours A4 | A5
sketch "Sketch22" plane through (0, 5, 0) normal (0, 1, 0) x (1, 0, 0)
  circle A0 centre (-87.1, 94.6) radius 1.35 projected
  circle A1 centre (-87.1, 94.6) radius 3.5 projected
  circle A2 centre (-20.1, 94.6) radius 1.35 projected
  arc A3 (-20.9307, 91.2) -> (-19.2693, 91.2) centre (-20.1, 87.8) ccw projected
  arc A4 (-19.2693, 91.2) -> (-20.9307, 91.2) centre (-20.1, 94.6) ccw projected
  circle A5 centre (-20.1, 87.8) radius 1.35 projected
  point P0 (0, 0)
extrude "Extrusion21" cut sketch "Sketch22" against normal blind 4 contours A0 | A2
properties part number "Base Right No Front Panel Or Back Panel"
